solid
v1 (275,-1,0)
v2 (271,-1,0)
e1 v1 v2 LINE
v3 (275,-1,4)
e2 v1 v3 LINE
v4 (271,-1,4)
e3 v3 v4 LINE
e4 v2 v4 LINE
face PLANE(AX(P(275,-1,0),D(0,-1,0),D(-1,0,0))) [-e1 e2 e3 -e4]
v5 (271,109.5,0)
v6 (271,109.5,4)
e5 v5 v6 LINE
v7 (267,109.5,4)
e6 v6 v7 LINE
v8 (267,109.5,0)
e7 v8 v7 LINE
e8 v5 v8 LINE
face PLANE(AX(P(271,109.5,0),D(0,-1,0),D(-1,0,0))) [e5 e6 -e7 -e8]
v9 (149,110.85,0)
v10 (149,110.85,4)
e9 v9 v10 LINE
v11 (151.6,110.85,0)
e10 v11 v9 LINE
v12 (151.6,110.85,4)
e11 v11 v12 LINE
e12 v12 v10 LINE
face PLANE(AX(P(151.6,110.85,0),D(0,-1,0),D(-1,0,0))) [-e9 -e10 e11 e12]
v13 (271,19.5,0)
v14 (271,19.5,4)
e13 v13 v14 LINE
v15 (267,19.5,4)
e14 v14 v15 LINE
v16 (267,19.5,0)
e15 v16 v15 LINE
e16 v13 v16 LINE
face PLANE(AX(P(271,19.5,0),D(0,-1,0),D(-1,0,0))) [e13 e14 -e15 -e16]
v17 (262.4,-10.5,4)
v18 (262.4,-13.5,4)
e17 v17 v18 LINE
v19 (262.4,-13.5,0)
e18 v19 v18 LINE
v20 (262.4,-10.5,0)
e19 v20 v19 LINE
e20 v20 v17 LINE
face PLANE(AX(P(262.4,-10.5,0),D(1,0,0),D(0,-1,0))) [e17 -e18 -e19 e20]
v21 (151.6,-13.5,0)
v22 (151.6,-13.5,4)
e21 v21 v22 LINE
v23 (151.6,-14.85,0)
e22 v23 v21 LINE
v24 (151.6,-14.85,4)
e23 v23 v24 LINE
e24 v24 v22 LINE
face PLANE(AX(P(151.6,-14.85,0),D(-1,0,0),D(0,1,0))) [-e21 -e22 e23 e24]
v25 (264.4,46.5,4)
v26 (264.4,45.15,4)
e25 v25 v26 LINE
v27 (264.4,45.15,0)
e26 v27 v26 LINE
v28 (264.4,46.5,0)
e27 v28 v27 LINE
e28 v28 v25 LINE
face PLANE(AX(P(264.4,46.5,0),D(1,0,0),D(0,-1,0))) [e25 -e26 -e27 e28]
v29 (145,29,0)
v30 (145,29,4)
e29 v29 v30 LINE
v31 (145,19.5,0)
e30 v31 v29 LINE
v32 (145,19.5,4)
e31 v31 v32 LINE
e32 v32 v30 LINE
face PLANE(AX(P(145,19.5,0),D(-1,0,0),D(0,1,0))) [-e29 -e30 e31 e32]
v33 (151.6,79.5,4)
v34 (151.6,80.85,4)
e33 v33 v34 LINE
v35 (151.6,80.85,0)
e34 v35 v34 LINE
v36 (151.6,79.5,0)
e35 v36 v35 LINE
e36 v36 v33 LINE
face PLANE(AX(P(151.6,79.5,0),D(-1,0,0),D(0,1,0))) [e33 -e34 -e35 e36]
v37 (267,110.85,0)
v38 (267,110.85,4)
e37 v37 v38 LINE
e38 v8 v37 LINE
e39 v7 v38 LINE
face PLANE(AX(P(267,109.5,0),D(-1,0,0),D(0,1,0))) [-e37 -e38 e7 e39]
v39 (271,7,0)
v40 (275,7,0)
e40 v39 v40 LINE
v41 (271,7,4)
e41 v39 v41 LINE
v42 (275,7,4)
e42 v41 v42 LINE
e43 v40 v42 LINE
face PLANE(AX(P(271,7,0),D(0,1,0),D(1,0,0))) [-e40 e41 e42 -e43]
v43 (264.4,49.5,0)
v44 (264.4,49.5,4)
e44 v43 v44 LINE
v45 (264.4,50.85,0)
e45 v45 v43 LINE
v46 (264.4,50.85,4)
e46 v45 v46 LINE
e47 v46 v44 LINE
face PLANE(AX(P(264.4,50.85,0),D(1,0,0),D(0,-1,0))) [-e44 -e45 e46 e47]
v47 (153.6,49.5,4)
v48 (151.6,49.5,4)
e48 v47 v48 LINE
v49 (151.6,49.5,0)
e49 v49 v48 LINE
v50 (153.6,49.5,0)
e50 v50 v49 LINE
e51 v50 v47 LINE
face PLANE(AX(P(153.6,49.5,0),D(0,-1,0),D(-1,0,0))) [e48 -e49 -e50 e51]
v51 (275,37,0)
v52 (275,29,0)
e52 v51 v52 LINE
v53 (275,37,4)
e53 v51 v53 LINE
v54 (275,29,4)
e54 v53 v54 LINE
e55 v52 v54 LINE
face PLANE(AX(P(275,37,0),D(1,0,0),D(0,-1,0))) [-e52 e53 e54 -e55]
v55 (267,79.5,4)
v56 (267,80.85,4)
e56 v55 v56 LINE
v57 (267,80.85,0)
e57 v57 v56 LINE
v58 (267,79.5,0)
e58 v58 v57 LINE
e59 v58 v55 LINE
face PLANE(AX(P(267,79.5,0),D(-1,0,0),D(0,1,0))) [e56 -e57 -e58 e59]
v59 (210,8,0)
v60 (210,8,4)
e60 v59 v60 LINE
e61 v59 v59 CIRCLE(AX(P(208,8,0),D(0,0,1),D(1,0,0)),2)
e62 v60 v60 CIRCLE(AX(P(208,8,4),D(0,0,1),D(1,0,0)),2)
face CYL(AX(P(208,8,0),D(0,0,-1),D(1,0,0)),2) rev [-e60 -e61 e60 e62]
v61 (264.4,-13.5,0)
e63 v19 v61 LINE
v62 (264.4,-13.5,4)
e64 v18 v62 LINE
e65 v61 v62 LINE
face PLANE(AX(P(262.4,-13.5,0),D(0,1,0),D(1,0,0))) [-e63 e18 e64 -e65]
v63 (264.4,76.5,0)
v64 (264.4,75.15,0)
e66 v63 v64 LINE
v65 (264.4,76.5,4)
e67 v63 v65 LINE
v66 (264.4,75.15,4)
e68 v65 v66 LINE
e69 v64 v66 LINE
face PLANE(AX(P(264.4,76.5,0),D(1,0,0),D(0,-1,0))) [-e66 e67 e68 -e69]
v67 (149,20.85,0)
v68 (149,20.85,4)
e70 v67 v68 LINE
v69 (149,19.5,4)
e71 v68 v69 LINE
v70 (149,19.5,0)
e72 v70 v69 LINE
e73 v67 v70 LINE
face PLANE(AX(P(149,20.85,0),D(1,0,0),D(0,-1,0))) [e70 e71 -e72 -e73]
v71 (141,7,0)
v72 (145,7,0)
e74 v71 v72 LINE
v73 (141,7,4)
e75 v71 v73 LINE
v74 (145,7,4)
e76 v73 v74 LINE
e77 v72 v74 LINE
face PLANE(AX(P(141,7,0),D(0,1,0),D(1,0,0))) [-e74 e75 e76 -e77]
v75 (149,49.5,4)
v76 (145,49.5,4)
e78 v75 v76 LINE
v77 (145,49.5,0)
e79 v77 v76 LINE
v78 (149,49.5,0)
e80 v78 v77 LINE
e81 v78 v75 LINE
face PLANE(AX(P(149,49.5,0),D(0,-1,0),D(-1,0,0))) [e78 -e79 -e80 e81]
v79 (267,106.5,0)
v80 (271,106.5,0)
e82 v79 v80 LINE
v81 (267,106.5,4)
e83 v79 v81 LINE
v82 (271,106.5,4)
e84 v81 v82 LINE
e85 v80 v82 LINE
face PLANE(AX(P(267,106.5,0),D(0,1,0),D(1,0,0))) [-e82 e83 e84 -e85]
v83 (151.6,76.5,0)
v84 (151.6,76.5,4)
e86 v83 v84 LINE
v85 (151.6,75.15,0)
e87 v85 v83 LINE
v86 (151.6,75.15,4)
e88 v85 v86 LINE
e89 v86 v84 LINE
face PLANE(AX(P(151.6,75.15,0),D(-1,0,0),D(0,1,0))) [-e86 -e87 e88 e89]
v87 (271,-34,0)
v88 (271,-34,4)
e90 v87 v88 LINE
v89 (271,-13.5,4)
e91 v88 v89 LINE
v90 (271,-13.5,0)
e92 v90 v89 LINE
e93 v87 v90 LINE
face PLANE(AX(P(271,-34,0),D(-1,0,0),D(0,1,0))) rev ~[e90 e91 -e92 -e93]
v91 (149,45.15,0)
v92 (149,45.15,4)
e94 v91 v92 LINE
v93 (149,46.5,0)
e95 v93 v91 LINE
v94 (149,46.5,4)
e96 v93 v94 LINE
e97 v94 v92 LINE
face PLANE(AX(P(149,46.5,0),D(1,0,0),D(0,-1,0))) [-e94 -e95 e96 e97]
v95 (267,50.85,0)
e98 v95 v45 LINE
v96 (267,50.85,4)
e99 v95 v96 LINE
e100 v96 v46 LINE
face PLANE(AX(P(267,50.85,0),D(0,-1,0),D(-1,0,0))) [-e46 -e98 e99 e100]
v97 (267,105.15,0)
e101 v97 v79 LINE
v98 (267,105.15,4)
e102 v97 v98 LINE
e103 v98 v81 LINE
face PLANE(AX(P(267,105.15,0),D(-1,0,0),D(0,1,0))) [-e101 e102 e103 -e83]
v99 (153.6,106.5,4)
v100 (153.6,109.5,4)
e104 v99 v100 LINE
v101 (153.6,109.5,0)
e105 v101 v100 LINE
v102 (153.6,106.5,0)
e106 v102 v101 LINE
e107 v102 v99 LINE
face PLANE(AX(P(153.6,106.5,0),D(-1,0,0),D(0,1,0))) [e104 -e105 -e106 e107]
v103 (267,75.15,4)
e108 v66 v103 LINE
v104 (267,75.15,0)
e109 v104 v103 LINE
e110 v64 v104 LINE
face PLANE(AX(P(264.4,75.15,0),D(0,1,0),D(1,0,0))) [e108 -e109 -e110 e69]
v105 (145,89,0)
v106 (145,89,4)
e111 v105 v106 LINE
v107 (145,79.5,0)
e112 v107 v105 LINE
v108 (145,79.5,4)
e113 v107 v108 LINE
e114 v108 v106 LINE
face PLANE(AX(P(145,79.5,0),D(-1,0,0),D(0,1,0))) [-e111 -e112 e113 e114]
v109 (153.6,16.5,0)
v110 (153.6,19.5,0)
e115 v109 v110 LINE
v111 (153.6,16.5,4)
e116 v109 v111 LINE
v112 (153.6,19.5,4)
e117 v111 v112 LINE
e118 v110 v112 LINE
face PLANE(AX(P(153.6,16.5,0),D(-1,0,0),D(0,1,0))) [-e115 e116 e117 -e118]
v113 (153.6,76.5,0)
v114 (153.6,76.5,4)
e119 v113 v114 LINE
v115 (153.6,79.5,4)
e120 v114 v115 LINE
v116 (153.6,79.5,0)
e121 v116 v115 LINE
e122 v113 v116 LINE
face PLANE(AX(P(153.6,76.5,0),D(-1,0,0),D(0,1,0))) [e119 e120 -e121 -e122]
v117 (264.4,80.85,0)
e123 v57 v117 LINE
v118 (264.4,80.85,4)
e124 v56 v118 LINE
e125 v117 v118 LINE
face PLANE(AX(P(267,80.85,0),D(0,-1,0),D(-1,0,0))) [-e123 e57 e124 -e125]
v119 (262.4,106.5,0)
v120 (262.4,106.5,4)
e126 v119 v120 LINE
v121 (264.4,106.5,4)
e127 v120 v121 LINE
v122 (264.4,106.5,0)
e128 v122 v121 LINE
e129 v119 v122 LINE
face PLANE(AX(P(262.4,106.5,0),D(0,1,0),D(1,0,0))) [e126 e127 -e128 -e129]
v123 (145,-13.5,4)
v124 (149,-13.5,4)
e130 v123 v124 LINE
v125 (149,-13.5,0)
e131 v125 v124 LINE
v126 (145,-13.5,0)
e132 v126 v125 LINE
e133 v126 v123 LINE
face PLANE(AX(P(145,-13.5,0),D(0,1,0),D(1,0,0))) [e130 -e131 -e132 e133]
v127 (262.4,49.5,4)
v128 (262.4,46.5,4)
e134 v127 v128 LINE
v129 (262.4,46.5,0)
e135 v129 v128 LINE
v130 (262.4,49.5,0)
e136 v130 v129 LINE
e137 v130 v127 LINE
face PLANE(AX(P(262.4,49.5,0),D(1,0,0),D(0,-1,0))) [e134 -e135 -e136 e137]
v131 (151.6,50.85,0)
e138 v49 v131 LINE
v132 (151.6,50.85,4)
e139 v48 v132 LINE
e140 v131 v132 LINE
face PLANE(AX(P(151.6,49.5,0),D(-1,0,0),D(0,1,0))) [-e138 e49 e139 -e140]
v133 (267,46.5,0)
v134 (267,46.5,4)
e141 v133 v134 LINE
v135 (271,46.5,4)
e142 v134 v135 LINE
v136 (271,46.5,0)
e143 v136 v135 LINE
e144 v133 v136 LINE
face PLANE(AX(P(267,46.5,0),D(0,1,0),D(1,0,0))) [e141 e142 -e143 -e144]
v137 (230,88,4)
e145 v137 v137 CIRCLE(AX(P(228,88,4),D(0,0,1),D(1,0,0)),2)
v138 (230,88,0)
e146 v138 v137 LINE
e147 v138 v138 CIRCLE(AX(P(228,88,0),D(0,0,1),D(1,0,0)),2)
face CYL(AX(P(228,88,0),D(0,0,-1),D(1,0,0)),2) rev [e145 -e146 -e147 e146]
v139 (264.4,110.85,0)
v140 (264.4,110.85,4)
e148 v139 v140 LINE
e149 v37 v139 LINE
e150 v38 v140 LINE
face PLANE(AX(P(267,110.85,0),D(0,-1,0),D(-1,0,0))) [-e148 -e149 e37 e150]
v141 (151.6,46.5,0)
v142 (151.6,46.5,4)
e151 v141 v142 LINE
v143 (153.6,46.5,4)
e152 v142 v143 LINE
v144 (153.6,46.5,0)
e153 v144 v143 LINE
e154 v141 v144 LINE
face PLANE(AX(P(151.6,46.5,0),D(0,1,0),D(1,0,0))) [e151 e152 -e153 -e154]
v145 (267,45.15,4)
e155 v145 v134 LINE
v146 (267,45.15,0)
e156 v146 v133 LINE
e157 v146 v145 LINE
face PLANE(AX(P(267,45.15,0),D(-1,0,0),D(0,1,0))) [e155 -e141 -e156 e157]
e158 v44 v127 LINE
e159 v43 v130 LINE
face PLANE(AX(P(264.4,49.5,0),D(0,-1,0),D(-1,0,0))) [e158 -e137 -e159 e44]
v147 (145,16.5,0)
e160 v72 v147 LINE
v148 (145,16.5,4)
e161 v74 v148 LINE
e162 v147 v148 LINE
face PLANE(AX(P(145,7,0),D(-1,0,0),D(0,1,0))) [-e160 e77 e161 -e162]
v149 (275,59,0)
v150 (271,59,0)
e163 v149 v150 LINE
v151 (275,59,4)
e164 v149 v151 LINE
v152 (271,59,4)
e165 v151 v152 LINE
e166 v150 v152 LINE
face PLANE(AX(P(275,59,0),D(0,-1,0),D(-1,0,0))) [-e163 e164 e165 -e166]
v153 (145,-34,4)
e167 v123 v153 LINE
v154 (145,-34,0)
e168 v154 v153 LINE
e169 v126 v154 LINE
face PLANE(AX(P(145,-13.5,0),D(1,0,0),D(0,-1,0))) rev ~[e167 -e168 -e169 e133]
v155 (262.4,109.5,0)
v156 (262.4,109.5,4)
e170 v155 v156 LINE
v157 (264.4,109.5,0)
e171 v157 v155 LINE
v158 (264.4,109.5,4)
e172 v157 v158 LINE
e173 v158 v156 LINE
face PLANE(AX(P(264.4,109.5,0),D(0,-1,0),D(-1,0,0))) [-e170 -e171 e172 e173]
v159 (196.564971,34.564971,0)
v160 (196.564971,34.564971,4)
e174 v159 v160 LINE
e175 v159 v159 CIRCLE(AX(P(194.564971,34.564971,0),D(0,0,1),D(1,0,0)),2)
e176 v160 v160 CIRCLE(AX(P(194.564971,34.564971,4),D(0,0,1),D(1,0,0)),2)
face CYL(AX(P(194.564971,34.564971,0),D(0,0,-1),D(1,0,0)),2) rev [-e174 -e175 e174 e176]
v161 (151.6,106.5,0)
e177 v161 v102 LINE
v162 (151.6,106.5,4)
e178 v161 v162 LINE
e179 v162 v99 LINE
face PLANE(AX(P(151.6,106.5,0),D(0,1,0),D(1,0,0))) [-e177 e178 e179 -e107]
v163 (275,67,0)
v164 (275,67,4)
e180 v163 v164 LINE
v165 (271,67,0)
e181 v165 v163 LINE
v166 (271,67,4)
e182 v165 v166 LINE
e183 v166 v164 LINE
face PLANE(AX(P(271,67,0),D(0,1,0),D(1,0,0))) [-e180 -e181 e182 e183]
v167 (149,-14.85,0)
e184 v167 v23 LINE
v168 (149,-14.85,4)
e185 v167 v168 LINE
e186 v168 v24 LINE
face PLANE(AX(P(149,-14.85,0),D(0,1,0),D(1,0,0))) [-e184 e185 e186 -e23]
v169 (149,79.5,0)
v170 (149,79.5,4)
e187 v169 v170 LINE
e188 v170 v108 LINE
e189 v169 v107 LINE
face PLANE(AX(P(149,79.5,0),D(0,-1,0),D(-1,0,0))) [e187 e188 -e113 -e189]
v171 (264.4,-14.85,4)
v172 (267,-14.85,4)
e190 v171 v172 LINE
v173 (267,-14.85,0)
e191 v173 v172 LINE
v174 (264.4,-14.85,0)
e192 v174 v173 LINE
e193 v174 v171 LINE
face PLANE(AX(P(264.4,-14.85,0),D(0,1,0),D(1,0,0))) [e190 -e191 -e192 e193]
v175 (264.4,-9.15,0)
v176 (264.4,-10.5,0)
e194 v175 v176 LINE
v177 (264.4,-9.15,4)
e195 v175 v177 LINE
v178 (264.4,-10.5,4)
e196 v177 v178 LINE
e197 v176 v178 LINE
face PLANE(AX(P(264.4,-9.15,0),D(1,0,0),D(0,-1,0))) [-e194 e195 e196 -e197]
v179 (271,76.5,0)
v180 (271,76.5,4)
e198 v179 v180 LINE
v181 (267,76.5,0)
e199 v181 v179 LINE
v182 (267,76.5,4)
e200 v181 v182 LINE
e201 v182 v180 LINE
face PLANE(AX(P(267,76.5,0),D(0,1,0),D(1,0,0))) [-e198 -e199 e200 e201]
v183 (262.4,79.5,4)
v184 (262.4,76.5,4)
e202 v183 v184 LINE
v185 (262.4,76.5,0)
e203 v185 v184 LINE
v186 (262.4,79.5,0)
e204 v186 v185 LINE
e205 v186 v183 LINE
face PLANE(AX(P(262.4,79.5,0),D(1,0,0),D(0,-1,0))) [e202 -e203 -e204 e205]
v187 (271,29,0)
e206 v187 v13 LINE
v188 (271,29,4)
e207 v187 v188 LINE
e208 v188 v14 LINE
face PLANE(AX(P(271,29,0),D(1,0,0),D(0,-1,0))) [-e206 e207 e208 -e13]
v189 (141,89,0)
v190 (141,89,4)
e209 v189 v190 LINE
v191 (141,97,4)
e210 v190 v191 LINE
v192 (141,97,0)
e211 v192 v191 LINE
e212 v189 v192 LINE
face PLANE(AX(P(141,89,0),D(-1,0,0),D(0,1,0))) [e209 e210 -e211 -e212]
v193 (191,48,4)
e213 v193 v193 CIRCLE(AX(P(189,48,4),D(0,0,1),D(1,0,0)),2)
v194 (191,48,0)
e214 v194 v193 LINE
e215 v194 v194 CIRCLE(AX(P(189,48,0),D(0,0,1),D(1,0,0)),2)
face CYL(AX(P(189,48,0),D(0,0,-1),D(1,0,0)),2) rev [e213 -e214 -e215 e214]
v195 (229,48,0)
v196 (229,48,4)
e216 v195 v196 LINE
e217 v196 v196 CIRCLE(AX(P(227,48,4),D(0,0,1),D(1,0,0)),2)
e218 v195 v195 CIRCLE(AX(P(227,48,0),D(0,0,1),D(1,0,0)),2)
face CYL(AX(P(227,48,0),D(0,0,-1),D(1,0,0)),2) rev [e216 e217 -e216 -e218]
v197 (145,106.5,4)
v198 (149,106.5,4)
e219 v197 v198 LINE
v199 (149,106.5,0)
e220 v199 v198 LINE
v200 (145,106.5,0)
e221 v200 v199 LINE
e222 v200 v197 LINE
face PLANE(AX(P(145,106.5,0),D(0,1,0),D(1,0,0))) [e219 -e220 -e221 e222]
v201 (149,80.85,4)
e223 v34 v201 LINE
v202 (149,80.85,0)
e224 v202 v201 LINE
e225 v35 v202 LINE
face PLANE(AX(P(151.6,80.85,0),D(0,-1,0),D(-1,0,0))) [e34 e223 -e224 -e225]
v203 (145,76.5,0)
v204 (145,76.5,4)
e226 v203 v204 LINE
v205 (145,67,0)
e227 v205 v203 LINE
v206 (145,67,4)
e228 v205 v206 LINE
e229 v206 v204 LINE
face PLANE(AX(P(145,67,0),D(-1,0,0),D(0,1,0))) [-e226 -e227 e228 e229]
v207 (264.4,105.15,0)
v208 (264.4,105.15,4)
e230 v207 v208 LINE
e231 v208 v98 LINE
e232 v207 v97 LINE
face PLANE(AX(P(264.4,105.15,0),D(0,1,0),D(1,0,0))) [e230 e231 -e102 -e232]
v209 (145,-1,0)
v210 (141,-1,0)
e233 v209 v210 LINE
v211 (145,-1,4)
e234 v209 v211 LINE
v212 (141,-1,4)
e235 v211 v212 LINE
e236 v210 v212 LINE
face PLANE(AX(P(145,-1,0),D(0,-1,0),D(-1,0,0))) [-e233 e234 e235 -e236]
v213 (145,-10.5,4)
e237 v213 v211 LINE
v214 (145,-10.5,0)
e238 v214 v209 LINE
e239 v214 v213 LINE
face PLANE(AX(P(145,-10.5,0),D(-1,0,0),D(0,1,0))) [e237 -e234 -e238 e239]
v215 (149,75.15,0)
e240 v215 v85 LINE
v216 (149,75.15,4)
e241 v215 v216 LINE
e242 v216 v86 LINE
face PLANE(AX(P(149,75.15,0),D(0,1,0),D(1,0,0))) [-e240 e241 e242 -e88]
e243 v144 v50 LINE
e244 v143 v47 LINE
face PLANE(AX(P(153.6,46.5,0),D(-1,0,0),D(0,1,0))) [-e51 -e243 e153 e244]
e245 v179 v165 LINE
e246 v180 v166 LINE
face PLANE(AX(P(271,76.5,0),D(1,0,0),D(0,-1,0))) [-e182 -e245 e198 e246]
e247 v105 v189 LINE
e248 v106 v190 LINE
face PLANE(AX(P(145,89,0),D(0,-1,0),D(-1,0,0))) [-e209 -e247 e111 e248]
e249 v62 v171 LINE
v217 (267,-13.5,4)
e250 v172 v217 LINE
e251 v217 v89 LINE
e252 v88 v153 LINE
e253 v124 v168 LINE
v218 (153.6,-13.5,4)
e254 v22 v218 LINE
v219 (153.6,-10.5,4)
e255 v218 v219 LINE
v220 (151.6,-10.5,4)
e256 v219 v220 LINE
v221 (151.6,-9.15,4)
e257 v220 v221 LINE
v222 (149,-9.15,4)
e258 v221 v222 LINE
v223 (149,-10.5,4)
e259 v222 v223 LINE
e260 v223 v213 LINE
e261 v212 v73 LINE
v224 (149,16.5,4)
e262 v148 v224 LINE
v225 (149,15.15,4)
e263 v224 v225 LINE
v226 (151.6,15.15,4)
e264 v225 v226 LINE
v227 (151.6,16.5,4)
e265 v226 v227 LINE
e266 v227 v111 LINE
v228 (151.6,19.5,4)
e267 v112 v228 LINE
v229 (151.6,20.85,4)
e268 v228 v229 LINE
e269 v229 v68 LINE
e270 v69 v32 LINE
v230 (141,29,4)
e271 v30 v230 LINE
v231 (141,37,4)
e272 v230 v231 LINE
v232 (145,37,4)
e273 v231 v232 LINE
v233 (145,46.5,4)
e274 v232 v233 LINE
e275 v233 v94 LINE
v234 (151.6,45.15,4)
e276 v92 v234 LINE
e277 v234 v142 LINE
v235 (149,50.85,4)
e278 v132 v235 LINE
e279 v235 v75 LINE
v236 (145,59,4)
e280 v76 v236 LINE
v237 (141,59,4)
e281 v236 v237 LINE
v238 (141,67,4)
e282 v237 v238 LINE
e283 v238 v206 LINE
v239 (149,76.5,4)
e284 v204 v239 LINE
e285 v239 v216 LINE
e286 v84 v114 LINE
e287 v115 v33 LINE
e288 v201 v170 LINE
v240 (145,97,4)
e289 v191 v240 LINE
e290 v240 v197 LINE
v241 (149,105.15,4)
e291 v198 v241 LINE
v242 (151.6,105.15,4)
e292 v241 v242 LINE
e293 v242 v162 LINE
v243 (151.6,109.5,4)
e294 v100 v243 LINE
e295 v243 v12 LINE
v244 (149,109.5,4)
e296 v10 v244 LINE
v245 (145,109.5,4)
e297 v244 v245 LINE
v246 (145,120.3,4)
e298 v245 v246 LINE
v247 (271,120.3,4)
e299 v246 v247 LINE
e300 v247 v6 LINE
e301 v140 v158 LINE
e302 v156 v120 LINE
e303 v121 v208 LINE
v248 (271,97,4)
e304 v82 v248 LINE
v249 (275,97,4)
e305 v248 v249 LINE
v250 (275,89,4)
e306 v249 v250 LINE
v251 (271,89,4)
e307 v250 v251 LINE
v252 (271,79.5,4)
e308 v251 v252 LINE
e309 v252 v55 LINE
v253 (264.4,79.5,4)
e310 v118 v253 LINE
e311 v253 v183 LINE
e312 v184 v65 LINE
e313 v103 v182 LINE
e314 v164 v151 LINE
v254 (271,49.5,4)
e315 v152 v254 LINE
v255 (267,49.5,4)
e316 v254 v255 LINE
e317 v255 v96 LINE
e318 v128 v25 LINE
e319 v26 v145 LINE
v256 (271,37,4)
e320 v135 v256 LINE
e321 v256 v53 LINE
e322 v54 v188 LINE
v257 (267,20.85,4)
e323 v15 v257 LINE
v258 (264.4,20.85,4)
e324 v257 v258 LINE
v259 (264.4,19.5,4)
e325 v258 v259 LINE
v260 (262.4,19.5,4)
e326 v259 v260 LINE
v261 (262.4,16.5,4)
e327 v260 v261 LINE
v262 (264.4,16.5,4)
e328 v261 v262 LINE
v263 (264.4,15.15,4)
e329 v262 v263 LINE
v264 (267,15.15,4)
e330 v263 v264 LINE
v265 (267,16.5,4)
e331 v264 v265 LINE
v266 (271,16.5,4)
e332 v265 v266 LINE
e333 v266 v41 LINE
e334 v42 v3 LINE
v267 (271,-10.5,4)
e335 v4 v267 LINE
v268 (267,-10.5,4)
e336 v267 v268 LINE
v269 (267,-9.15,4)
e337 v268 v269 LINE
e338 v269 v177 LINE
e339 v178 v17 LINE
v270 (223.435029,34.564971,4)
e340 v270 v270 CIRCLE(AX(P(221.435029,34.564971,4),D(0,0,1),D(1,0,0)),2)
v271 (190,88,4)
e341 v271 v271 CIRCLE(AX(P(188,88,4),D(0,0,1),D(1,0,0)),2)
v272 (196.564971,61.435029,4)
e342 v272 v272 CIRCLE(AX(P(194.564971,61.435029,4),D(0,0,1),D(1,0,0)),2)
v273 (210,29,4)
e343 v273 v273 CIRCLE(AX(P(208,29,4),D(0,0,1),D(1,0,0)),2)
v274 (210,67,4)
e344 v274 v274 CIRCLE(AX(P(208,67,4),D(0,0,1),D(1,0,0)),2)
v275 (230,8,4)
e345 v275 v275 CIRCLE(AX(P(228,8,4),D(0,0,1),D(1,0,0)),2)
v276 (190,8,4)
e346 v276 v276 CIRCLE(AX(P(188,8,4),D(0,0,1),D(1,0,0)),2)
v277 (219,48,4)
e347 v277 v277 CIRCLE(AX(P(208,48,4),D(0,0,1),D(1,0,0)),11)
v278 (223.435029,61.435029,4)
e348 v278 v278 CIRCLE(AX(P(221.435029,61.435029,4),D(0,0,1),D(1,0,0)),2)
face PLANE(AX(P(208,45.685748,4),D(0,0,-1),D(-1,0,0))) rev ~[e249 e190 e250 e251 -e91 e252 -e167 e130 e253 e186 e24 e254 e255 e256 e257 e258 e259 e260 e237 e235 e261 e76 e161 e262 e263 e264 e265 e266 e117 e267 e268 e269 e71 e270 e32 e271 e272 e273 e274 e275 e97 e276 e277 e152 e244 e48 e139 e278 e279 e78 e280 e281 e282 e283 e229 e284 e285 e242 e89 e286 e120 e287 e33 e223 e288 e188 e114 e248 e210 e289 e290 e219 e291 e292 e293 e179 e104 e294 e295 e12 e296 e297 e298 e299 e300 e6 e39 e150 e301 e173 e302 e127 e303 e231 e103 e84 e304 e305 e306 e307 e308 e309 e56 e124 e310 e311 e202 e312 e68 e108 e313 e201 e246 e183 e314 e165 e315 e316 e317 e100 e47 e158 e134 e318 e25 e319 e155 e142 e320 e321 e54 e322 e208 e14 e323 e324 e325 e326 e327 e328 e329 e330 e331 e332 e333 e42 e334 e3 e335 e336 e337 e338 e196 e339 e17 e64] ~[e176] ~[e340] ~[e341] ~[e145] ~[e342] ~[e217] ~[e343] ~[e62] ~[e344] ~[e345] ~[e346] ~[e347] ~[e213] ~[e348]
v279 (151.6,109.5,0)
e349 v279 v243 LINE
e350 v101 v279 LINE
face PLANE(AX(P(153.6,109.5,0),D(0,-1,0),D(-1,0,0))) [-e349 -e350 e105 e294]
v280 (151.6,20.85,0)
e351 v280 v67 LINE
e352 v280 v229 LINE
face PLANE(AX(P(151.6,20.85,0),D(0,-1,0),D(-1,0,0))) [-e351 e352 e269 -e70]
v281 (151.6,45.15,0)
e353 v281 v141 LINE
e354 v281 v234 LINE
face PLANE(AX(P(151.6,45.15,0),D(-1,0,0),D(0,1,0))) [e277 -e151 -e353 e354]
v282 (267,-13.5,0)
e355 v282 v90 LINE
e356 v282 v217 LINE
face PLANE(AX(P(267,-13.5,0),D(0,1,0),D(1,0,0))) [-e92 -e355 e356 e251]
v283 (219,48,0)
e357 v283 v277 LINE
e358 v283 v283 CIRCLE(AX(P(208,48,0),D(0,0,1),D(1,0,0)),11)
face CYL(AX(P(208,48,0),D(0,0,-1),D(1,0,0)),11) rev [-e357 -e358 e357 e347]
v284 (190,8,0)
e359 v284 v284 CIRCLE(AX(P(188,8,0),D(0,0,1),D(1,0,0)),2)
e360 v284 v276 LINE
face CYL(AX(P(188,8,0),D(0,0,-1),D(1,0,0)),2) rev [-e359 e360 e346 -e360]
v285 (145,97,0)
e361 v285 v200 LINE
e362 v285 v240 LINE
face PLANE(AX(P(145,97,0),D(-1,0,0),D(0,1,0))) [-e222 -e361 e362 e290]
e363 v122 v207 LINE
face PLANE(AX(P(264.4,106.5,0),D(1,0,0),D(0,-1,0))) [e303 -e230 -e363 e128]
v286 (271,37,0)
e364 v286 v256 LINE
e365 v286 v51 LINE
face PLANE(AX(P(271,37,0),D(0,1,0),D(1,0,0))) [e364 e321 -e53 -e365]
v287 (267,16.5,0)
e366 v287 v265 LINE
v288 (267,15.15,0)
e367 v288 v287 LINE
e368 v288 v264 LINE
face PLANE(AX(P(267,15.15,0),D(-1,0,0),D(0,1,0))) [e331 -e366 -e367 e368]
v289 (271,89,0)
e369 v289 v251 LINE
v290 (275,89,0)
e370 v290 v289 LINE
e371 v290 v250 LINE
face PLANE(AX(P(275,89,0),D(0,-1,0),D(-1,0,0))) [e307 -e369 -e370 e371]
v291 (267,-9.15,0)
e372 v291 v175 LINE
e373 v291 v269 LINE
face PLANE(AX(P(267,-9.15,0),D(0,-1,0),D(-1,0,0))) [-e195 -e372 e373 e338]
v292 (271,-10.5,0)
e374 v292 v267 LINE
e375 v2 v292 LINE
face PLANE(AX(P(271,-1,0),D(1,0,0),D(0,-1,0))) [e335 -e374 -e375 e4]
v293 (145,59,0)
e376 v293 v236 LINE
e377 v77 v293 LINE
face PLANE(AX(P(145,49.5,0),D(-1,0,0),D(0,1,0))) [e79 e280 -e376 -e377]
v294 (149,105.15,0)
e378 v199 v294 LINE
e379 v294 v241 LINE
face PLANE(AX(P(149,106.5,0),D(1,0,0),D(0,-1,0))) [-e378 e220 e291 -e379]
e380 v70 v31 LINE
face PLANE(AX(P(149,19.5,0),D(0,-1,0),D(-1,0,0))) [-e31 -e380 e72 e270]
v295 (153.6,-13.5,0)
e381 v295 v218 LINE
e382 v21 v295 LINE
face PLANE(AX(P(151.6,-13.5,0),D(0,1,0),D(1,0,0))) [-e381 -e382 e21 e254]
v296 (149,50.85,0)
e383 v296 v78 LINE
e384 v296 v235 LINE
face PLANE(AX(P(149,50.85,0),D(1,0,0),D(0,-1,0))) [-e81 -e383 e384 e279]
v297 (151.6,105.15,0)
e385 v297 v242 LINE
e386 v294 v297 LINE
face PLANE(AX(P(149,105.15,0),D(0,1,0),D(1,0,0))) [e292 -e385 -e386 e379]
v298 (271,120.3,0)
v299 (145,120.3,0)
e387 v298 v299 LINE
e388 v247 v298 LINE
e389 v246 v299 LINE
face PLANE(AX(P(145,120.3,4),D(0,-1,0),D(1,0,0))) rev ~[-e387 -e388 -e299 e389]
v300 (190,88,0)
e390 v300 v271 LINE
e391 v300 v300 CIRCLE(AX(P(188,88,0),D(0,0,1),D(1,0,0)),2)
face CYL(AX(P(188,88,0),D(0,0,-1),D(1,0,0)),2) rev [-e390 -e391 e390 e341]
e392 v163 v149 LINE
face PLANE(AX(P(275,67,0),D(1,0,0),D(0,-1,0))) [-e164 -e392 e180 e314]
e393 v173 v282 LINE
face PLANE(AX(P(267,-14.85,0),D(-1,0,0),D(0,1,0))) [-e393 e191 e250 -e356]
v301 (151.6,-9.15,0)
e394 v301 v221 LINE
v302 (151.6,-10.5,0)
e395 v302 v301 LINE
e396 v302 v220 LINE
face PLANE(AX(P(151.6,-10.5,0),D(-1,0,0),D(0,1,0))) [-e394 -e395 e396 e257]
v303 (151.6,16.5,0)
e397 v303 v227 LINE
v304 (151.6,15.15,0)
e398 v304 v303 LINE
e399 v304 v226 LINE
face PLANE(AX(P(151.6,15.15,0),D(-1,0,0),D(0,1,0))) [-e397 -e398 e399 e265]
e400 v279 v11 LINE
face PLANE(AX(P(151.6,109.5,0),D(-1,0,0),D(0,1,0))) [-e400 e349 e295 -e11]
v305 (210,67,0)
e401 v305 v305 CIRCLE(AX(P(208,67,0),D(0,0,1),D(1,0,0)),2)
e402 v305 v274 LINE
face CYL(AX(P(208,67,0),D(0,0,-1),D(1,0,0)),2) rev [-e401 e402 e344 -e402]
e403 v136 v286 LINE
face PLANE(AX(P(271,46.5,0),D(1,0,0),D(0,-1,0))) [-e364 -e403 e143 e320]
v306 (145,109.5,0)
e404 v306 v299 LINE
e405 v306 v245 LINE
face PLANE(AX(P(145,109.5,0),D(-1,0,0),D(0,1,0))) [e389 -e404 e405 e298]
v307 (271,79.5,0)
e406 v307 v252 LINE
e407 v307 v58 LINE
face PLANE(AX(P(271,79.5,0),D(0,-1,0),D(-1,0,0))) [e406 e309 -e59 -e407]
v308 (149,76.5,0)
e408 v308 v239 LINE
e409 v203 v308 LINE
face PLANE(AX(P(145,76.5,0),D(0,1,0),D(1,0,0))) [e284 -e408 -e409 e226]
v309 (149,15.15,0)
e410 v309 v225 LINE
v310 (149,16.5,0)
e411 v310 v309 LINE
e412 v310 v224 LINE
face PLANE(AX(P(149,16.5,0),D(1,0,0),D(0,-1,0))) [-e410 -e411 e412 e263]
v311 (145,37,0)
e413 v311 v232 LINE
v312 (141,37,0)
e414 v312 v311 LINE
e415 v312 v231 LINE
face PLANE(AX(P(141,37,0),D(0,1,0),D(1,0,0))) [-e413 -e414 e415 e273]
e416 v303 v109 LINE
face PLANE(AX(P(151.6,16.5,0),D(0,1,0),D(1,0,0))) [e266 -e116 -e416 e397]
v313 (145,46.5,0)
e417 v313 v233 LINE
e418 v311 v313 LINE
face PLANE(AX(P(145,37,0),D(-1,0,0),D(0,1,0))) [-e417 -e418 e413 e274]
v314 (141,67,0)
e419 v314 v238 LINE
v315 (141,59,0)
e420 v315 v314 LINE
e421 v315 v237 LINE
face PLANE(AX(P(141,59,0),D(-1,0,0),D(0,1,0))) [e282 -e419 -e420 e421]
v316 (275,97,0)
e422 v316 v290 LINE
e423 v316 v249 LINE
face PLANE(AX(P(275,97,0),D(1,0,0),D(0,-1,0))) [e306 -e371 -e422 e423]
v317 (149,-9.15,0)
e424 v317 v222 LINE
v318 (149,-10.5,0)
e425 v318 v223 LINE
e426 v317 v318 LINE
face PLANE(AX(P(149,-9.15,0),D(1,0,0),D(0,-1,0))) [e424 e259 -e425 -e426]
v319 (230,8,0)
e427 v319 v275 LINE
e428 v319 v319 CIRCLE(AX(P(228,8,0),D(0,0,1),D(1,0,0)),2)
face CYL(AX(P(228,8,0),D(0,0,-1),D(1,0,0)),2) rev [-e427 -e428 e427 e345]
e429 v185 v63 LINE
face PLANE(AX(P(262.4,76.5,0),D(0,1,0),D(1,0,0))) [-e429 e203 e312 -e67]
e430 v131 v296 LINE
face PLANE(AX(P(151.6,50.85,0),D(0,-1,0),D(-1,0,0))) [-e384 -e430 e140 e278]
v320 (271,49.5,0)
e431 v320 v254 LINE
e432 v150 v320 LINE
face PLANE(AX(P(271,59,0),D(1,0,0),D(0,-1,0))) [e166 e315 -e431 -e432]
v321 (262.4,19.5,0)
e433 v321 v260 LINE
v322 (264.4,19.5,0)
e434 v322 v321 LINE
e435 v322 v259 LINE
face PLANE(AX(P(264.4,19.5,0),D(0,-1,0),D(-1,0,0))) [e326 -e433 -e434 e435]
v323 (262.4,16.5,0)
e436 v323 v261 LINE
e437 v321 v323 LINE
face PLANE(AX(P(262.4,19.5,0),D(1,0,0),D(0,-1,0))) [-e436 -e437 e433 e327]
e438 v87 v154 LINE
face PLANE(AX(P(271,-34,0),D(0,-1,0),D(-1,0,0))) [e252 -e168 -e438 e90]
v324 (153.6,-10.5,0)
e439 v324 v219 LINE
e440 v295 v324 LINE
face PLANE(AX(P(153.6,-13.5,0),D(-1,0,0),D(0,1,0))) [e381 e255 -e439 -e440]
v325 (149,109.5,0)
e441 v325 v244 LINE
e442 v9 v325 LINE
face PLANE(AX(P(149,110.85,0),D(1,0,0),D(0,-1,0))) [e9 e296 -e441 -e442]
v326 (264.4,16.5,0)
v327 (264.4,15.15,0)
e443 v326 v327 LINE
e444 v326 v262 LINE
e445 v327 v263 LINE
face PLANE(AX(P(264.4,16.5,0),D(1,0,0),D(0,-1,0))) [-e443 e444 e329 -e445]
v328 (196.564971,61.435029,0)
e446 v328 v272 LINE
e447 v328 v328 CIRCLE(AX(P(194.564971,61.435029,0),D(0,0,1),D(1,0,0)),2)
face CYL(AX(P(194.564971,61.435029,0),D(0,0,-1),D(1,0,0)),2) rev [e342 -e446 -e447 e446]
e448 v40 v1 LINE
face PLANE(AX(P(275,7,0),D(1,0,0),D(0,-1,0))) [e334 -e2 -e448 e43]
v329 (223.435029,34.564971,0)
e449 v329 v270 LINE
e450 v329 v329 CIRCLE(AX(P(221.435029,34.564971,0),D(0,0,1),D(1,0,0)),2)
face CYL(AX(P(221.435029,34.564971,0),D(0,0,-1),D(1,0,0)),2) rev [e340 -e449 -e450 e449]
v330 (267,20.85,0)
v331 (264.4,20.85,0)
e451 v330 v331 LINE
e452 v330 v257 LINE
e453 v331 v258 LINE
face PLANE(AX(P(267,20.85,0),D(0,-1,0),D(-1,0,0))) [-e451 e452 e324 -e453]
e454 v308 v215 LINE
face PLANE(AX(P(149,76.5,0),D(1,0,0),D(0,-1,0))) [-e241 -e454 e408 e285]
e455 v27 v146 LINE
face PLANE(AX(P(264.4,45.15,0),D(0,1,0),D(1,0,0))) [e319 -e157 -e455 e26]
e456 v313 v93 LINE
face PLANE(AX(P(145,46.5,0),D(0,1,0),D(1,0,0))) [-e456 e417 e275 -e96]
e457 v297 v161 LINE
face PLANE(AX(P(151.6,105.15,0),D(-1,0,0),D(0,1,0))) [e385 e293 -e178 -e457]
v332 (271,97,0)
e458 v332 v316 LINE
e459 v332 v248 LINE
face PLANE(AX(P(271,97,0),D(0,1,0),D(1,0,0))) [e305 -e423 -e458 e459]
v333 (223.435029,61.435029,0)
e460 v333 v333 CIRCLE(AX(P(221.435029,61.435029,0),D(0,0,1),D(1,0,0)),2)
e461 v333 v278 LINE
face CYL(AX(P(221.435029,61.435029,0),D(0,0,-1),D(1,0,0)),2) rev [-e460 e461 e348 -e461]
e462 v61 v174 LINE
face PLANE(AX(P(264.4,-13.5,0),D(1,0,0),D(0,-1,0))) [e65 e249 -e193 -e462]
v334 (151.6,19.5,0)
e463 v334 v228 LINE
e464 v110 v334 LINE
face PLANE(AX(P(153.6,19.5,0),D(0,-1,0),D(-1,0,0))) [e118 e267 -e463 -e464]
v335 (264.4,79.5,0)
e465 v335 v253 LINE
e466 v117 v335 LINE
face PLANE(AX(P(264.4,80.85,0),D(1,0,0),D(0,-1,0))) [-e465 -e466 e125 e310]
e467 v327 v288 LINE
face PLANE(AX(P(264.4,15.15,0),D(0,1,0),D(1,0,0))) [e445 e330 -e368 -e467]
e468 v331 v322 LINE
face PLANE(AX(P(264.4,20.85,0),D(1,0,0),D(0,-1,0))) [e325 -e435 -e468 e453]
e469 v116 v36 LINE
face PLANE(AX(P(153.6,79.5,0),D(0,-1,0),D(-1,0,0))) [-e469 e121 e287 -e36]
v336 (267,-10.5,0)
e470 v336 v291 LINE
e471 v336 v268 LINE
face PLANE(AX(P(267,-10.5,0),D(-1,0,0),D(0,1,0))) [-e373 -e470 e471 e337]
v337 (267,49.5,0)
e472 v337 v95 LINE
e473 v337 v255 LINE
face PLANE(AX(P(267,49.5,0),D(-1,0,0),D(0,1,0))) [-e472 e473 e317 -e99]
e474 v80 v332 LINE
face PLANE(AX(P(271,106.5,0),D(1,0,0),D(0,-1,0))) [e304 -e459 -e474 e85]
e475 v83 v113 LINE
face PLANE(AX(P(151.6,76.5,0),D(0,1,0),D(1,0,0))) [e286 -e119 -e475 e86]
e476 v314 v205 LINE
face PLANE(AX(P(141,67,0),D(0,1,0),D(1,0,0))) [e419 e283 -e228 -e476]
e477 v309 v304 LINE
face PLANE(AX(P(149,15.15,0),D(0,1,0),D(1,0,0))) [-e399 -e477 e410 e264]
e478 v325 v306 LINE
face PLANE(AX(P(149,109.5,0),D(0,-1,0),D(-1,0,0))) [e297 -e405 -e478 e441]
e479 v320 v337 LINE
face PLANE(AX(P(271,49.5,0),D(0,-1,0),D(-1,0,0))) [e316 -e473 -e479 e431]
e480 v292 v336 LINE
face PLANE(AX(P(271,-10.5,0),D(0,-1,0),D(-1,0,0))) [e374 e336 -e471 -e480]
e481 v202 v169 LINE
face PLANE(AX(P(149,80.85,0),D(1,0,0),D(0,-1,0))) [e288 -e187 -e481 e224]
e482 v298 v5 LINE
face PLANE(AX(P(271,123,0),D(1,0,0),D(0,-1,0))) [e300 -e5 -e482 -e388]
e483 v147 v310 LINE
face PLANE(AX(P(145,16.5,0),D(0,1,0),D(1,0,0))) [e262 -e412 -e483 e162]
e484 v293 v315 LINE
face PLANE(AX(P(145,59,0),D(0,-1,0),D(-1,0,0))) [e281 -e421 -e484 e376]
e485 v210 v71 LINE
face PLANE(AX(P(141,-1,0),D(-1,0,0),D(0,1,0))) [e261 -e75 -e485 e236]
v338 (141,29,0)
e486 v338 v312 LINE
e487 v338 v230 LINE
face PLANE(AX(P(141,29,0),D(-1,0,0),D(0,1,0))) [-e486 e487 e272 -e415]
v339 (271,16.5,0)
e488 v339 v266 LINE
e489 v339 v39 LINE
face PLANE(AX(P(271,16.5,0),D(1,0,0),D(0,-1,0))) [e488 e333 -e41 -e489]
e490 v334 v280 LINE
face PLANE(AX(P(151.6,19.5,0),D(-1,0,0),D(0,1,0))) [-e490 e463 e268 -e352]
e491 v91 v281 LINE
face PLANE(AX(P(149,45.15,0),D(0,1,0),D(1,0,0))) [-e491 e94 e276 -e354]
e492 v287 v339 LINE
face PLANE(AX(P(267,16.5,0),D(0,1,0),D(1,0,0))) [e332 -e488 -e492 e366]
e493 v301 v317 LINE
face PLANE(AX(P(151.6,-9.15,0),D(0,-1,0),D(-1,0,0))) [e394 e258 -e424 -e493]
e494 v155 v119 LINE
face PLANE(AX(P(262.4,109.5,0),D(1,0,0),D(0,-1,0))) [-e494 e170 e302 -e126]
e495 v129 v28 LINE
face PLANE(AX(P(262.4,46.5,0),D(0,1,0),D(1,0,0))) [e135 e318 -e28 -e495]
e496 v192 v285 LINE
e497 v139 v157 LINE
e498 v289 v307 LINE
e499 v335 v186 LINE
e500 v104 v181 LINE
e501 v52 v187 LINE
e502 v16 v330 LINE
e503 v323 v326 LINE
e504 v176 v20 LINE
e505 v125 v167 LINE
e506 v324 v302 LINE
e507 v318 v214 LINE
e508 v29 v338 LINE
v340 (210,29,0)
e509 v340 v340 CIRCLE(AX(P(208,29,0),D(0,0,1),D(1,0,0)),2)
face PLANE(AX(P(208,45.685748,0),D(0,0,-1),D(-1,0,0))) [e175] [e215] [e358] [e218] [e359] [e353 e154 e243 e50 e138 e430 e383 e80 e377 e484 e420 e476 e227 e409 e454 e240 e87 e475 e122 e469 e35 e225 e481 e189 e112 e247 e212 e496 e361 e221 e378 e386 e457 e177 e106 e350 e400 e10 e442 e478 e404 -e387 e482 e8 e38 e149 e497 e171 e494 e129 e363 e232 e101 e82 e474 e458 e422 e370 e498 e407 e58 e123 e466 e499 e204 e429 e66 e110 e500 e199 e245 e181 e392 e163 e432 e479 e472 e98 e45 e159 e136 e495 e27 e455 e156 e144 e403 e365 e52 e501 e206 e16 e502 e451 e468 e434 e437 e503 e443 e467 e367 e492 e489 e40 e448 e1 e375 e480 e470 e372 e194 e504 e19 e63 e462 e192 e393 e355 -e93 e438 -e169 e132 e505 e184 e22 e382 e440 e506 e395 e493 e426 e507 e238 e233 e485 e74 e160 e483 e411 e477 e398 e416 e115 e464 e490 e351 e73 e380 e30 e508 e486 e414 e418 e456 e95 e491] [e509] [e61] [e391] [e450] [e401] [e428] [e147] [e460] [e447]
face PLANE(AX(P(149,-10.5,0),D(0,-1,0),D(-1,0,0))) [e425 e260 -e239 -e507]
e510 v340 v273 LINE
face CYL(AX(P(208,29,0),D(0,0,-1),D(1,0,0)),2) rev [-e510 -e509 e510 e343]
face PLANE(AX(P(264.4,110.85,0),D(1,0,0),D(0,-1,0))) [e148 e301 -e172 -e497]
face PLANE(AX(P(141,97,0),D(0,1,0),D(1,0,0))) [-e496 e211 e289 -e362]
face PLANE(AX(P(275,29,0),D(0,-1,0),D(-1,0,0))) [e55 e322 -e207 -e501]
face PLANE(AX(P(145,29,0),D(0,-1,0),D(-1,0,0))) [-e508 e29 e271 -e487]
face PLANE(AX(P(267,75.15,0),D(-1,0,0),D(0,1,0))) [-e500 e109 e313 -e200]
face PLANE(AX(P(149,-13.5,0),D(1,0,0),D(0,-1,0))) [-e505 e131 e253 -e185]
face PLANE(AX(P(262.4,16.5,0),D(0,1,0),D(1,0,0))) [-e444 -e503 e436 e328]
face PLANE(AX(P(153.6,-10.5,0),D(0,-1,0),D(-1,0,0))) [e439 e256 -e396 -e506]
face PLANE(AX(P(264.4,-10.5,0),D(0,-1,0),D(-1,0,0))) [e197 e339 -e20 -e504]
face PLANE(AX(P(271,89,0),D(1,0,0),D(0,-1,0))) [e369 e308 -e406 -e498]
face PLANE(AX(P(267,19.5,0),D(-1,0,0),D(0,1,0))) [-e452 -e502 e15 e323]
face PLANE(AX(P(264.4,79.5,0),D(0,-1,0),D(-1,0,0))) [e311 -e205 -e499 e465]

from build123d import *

# Parameters (mm, degrees)
SKETCH_1_R          = 2
SKETCH_1_R_2        = 11
EXTRUDE_1_DEPTH     = 4
SKETCH_3_W          = 126
SKETCH_3_H          = 2.7
CUT_EXTRUDE_1_DEPTH = 10


with BuildPart() as part:
    # 草图1 → 凸台-拉伸1 (new body)
    with BuildSketch(Plane.XY):
        Polygon((145, 46.5), (149, 46.5), (149, 45.15), (151.6, 45.15), (151.6, 46.5), (153.6, 46.5), (153.6, 49.5), (151.6, 49.5), (151.6, 50.85), (149, 50.85), (149, 49.5), (145, 49.5), (145, 59), (141, 59), (141, 67), (145, 67), (145, 76.5), (149, 76.5), (149, 75.15), (151.6, 75.15), (151.6, 76.5), (153.6, 76.5), (153.6, 79.5), (151.6, 79.5), (151.6, 80.85), (149, 80.85), (149, 79.5), (145, 79.5), (145, 89), (141, 89), (141, 97), (145, 97), (145, 106.5), (149, 106.5), (149, 105.15), (151.6, 105.15), (151.6, 106.5), (153.6, 106.5), (153.6, 109.5), (151.6, 109.5), (151.6, 110.85), (149, 110.85), (149, 109.5), (145, 109.5), (145, 123), (271, 123), (271, 109.5), (267, 109.5), (267, 110.85), (264.4, 110.85), (264.4, 109.5), (262.4, 109.5), (262.4, 106.5), (264.4, 106.5), (264.4, 105.15), (267, 105.15), (267, 106.5), (271, 106.5), (271, 97), (275, 97), (275, 89), (271, 89), (271, 79.5), (267, 79.5), (267, 80.85), (264.4, 80.85), (264.4, 79.5), (262.4, 79.5), (262.4, 76.5), (264.4, 76.5), (264.4, 75.15), (267, 75.15), (267, 76.5), (271, 76.5), (271, 67), (275, 67), (275, 59), (271, 59), (271, 49.5), (267, 49.5), (267, 50.85), (264.4, 50.85), (264.4, 49.5), (262.4, 49.5), (262.4, 46.5), (264.4, 46.5), (264.4, 45.15), (267, 45.15), (267, 46.5), (271, 46.5), (271, 37), (275, 37), (275, 29), (271, 29), (271, 19.5), (267, 19.5), (267, 20.85), (264.4, 20.85), (264.4, 19.5), (262.4, 19.5), (262.4, 16.5), (264.4, 16.5), (264.4, 15.15), (267, 15.15), (267, 16.5), (271, 16.5), (271, 7), (275, 7), (275, -1), (271, -1), (271, -10.5), (267, -10.5), (267, -9.15), (264.4, -9.15), (264.4, -10.5), (262.4, -10.5), (262.4, -13.5), (264.4, -13.5), (264.4, -14.85), (267, -14.85), (267, -13.5), (271, -13.5), (271, -27), (271, -34), (145, -34), (145, -27), (145, -13.5), (149, -13.5), (149, -14.85), (151.6, -14.85), (151.6, -13.5), (153.6, -13.5), (153.6, -10.5), (151.6, -10.5), (151.6, -9.15), (149, -9.15), (149, -10.5), (145, -10.5), (145, -1), (141, -1), (141, 7), (145, 7), (145, 16.5), (149, 16.5), (149, 15.15), (151.6, 15.15), (151.6, 16.5), (153.6, 16.5), (153.6, 19.5), (151.6, 19.5), (151.6, 20.85), (149, 20.85), (149, 19.5), (145, 19.5), (145, 29), (141, 29), (141, 37), (145, 37), align=None)
        with Locations((208, 29)):
            Circle(SKETCH_1_R, mode=Mode.SUBTRACT)
        with Locations((208, 48)):
            Circle(SKETCH_1_R_2, mode=Mode.SUBTRACT)
        with Locations((188, 8)):
            Circle(SKETCH_1_R, mode=Mode.SUBTRACT)
        with Locations((228, 8)):
            Circle(SKETCH_1_R, mode=Mode.SUBTRACT)
        with Locations((228, 88)):
            Circle(SKETCH_1_R, mode=Mode.SUBTRACT)
        with Locations((188, 88)):
            Circle(SKETCH_1_R, mode=Mode.SUBTRACT)
        with Locations((208, 8)):
            Circle(SKETCH_1_R, mode=Mode.SUBTRACT)
        with Locations((194.564971157, 34.564971157)):
            Circle(SKETCH_1_R, mode=Mode.SUBTRACT)
        with Locations((189, 48)):
            Circle(SKETCH_1_R, mode=Mode.SUBTRACT)
        with Locations((194.564971157, 61.435028843)):
            Circle(SKETCH_1_R, mode=Mode.SUBTRACT)
        with Locations((208, 67)):
            Circle(SKETCH_1_R, mode=Mode.SUBTRACT)
        with Locations((221.435028843, 61.435028843)):
            Circle(SKETCH_1_R, mode=Mode.SUBTRACT)
        with Locations((227, 48)):
            Circle(SKETCH_1_R, mode=Mode.SUBTRACT)
        with Locations((221.435028843, 34.564971157)):
            Circle(SKETCH_1_R, mode=Mode.SUBTRACT)
    extrude(amount=EXTRUDE_1_DEPTH)

    # 草图3 → 切除-拉伸1 (cut)
    with BuildSketch(Plane.XY.offset(4)):
        with Locations((208, 121.65)):
            Rectangle(SKETCH_3_W, SKETCH_3_H)
    extrude(amount=-CUT_EXTRUDE_1_DEPTH, mode=Mode.SUBTRACT)


solid = part.part
